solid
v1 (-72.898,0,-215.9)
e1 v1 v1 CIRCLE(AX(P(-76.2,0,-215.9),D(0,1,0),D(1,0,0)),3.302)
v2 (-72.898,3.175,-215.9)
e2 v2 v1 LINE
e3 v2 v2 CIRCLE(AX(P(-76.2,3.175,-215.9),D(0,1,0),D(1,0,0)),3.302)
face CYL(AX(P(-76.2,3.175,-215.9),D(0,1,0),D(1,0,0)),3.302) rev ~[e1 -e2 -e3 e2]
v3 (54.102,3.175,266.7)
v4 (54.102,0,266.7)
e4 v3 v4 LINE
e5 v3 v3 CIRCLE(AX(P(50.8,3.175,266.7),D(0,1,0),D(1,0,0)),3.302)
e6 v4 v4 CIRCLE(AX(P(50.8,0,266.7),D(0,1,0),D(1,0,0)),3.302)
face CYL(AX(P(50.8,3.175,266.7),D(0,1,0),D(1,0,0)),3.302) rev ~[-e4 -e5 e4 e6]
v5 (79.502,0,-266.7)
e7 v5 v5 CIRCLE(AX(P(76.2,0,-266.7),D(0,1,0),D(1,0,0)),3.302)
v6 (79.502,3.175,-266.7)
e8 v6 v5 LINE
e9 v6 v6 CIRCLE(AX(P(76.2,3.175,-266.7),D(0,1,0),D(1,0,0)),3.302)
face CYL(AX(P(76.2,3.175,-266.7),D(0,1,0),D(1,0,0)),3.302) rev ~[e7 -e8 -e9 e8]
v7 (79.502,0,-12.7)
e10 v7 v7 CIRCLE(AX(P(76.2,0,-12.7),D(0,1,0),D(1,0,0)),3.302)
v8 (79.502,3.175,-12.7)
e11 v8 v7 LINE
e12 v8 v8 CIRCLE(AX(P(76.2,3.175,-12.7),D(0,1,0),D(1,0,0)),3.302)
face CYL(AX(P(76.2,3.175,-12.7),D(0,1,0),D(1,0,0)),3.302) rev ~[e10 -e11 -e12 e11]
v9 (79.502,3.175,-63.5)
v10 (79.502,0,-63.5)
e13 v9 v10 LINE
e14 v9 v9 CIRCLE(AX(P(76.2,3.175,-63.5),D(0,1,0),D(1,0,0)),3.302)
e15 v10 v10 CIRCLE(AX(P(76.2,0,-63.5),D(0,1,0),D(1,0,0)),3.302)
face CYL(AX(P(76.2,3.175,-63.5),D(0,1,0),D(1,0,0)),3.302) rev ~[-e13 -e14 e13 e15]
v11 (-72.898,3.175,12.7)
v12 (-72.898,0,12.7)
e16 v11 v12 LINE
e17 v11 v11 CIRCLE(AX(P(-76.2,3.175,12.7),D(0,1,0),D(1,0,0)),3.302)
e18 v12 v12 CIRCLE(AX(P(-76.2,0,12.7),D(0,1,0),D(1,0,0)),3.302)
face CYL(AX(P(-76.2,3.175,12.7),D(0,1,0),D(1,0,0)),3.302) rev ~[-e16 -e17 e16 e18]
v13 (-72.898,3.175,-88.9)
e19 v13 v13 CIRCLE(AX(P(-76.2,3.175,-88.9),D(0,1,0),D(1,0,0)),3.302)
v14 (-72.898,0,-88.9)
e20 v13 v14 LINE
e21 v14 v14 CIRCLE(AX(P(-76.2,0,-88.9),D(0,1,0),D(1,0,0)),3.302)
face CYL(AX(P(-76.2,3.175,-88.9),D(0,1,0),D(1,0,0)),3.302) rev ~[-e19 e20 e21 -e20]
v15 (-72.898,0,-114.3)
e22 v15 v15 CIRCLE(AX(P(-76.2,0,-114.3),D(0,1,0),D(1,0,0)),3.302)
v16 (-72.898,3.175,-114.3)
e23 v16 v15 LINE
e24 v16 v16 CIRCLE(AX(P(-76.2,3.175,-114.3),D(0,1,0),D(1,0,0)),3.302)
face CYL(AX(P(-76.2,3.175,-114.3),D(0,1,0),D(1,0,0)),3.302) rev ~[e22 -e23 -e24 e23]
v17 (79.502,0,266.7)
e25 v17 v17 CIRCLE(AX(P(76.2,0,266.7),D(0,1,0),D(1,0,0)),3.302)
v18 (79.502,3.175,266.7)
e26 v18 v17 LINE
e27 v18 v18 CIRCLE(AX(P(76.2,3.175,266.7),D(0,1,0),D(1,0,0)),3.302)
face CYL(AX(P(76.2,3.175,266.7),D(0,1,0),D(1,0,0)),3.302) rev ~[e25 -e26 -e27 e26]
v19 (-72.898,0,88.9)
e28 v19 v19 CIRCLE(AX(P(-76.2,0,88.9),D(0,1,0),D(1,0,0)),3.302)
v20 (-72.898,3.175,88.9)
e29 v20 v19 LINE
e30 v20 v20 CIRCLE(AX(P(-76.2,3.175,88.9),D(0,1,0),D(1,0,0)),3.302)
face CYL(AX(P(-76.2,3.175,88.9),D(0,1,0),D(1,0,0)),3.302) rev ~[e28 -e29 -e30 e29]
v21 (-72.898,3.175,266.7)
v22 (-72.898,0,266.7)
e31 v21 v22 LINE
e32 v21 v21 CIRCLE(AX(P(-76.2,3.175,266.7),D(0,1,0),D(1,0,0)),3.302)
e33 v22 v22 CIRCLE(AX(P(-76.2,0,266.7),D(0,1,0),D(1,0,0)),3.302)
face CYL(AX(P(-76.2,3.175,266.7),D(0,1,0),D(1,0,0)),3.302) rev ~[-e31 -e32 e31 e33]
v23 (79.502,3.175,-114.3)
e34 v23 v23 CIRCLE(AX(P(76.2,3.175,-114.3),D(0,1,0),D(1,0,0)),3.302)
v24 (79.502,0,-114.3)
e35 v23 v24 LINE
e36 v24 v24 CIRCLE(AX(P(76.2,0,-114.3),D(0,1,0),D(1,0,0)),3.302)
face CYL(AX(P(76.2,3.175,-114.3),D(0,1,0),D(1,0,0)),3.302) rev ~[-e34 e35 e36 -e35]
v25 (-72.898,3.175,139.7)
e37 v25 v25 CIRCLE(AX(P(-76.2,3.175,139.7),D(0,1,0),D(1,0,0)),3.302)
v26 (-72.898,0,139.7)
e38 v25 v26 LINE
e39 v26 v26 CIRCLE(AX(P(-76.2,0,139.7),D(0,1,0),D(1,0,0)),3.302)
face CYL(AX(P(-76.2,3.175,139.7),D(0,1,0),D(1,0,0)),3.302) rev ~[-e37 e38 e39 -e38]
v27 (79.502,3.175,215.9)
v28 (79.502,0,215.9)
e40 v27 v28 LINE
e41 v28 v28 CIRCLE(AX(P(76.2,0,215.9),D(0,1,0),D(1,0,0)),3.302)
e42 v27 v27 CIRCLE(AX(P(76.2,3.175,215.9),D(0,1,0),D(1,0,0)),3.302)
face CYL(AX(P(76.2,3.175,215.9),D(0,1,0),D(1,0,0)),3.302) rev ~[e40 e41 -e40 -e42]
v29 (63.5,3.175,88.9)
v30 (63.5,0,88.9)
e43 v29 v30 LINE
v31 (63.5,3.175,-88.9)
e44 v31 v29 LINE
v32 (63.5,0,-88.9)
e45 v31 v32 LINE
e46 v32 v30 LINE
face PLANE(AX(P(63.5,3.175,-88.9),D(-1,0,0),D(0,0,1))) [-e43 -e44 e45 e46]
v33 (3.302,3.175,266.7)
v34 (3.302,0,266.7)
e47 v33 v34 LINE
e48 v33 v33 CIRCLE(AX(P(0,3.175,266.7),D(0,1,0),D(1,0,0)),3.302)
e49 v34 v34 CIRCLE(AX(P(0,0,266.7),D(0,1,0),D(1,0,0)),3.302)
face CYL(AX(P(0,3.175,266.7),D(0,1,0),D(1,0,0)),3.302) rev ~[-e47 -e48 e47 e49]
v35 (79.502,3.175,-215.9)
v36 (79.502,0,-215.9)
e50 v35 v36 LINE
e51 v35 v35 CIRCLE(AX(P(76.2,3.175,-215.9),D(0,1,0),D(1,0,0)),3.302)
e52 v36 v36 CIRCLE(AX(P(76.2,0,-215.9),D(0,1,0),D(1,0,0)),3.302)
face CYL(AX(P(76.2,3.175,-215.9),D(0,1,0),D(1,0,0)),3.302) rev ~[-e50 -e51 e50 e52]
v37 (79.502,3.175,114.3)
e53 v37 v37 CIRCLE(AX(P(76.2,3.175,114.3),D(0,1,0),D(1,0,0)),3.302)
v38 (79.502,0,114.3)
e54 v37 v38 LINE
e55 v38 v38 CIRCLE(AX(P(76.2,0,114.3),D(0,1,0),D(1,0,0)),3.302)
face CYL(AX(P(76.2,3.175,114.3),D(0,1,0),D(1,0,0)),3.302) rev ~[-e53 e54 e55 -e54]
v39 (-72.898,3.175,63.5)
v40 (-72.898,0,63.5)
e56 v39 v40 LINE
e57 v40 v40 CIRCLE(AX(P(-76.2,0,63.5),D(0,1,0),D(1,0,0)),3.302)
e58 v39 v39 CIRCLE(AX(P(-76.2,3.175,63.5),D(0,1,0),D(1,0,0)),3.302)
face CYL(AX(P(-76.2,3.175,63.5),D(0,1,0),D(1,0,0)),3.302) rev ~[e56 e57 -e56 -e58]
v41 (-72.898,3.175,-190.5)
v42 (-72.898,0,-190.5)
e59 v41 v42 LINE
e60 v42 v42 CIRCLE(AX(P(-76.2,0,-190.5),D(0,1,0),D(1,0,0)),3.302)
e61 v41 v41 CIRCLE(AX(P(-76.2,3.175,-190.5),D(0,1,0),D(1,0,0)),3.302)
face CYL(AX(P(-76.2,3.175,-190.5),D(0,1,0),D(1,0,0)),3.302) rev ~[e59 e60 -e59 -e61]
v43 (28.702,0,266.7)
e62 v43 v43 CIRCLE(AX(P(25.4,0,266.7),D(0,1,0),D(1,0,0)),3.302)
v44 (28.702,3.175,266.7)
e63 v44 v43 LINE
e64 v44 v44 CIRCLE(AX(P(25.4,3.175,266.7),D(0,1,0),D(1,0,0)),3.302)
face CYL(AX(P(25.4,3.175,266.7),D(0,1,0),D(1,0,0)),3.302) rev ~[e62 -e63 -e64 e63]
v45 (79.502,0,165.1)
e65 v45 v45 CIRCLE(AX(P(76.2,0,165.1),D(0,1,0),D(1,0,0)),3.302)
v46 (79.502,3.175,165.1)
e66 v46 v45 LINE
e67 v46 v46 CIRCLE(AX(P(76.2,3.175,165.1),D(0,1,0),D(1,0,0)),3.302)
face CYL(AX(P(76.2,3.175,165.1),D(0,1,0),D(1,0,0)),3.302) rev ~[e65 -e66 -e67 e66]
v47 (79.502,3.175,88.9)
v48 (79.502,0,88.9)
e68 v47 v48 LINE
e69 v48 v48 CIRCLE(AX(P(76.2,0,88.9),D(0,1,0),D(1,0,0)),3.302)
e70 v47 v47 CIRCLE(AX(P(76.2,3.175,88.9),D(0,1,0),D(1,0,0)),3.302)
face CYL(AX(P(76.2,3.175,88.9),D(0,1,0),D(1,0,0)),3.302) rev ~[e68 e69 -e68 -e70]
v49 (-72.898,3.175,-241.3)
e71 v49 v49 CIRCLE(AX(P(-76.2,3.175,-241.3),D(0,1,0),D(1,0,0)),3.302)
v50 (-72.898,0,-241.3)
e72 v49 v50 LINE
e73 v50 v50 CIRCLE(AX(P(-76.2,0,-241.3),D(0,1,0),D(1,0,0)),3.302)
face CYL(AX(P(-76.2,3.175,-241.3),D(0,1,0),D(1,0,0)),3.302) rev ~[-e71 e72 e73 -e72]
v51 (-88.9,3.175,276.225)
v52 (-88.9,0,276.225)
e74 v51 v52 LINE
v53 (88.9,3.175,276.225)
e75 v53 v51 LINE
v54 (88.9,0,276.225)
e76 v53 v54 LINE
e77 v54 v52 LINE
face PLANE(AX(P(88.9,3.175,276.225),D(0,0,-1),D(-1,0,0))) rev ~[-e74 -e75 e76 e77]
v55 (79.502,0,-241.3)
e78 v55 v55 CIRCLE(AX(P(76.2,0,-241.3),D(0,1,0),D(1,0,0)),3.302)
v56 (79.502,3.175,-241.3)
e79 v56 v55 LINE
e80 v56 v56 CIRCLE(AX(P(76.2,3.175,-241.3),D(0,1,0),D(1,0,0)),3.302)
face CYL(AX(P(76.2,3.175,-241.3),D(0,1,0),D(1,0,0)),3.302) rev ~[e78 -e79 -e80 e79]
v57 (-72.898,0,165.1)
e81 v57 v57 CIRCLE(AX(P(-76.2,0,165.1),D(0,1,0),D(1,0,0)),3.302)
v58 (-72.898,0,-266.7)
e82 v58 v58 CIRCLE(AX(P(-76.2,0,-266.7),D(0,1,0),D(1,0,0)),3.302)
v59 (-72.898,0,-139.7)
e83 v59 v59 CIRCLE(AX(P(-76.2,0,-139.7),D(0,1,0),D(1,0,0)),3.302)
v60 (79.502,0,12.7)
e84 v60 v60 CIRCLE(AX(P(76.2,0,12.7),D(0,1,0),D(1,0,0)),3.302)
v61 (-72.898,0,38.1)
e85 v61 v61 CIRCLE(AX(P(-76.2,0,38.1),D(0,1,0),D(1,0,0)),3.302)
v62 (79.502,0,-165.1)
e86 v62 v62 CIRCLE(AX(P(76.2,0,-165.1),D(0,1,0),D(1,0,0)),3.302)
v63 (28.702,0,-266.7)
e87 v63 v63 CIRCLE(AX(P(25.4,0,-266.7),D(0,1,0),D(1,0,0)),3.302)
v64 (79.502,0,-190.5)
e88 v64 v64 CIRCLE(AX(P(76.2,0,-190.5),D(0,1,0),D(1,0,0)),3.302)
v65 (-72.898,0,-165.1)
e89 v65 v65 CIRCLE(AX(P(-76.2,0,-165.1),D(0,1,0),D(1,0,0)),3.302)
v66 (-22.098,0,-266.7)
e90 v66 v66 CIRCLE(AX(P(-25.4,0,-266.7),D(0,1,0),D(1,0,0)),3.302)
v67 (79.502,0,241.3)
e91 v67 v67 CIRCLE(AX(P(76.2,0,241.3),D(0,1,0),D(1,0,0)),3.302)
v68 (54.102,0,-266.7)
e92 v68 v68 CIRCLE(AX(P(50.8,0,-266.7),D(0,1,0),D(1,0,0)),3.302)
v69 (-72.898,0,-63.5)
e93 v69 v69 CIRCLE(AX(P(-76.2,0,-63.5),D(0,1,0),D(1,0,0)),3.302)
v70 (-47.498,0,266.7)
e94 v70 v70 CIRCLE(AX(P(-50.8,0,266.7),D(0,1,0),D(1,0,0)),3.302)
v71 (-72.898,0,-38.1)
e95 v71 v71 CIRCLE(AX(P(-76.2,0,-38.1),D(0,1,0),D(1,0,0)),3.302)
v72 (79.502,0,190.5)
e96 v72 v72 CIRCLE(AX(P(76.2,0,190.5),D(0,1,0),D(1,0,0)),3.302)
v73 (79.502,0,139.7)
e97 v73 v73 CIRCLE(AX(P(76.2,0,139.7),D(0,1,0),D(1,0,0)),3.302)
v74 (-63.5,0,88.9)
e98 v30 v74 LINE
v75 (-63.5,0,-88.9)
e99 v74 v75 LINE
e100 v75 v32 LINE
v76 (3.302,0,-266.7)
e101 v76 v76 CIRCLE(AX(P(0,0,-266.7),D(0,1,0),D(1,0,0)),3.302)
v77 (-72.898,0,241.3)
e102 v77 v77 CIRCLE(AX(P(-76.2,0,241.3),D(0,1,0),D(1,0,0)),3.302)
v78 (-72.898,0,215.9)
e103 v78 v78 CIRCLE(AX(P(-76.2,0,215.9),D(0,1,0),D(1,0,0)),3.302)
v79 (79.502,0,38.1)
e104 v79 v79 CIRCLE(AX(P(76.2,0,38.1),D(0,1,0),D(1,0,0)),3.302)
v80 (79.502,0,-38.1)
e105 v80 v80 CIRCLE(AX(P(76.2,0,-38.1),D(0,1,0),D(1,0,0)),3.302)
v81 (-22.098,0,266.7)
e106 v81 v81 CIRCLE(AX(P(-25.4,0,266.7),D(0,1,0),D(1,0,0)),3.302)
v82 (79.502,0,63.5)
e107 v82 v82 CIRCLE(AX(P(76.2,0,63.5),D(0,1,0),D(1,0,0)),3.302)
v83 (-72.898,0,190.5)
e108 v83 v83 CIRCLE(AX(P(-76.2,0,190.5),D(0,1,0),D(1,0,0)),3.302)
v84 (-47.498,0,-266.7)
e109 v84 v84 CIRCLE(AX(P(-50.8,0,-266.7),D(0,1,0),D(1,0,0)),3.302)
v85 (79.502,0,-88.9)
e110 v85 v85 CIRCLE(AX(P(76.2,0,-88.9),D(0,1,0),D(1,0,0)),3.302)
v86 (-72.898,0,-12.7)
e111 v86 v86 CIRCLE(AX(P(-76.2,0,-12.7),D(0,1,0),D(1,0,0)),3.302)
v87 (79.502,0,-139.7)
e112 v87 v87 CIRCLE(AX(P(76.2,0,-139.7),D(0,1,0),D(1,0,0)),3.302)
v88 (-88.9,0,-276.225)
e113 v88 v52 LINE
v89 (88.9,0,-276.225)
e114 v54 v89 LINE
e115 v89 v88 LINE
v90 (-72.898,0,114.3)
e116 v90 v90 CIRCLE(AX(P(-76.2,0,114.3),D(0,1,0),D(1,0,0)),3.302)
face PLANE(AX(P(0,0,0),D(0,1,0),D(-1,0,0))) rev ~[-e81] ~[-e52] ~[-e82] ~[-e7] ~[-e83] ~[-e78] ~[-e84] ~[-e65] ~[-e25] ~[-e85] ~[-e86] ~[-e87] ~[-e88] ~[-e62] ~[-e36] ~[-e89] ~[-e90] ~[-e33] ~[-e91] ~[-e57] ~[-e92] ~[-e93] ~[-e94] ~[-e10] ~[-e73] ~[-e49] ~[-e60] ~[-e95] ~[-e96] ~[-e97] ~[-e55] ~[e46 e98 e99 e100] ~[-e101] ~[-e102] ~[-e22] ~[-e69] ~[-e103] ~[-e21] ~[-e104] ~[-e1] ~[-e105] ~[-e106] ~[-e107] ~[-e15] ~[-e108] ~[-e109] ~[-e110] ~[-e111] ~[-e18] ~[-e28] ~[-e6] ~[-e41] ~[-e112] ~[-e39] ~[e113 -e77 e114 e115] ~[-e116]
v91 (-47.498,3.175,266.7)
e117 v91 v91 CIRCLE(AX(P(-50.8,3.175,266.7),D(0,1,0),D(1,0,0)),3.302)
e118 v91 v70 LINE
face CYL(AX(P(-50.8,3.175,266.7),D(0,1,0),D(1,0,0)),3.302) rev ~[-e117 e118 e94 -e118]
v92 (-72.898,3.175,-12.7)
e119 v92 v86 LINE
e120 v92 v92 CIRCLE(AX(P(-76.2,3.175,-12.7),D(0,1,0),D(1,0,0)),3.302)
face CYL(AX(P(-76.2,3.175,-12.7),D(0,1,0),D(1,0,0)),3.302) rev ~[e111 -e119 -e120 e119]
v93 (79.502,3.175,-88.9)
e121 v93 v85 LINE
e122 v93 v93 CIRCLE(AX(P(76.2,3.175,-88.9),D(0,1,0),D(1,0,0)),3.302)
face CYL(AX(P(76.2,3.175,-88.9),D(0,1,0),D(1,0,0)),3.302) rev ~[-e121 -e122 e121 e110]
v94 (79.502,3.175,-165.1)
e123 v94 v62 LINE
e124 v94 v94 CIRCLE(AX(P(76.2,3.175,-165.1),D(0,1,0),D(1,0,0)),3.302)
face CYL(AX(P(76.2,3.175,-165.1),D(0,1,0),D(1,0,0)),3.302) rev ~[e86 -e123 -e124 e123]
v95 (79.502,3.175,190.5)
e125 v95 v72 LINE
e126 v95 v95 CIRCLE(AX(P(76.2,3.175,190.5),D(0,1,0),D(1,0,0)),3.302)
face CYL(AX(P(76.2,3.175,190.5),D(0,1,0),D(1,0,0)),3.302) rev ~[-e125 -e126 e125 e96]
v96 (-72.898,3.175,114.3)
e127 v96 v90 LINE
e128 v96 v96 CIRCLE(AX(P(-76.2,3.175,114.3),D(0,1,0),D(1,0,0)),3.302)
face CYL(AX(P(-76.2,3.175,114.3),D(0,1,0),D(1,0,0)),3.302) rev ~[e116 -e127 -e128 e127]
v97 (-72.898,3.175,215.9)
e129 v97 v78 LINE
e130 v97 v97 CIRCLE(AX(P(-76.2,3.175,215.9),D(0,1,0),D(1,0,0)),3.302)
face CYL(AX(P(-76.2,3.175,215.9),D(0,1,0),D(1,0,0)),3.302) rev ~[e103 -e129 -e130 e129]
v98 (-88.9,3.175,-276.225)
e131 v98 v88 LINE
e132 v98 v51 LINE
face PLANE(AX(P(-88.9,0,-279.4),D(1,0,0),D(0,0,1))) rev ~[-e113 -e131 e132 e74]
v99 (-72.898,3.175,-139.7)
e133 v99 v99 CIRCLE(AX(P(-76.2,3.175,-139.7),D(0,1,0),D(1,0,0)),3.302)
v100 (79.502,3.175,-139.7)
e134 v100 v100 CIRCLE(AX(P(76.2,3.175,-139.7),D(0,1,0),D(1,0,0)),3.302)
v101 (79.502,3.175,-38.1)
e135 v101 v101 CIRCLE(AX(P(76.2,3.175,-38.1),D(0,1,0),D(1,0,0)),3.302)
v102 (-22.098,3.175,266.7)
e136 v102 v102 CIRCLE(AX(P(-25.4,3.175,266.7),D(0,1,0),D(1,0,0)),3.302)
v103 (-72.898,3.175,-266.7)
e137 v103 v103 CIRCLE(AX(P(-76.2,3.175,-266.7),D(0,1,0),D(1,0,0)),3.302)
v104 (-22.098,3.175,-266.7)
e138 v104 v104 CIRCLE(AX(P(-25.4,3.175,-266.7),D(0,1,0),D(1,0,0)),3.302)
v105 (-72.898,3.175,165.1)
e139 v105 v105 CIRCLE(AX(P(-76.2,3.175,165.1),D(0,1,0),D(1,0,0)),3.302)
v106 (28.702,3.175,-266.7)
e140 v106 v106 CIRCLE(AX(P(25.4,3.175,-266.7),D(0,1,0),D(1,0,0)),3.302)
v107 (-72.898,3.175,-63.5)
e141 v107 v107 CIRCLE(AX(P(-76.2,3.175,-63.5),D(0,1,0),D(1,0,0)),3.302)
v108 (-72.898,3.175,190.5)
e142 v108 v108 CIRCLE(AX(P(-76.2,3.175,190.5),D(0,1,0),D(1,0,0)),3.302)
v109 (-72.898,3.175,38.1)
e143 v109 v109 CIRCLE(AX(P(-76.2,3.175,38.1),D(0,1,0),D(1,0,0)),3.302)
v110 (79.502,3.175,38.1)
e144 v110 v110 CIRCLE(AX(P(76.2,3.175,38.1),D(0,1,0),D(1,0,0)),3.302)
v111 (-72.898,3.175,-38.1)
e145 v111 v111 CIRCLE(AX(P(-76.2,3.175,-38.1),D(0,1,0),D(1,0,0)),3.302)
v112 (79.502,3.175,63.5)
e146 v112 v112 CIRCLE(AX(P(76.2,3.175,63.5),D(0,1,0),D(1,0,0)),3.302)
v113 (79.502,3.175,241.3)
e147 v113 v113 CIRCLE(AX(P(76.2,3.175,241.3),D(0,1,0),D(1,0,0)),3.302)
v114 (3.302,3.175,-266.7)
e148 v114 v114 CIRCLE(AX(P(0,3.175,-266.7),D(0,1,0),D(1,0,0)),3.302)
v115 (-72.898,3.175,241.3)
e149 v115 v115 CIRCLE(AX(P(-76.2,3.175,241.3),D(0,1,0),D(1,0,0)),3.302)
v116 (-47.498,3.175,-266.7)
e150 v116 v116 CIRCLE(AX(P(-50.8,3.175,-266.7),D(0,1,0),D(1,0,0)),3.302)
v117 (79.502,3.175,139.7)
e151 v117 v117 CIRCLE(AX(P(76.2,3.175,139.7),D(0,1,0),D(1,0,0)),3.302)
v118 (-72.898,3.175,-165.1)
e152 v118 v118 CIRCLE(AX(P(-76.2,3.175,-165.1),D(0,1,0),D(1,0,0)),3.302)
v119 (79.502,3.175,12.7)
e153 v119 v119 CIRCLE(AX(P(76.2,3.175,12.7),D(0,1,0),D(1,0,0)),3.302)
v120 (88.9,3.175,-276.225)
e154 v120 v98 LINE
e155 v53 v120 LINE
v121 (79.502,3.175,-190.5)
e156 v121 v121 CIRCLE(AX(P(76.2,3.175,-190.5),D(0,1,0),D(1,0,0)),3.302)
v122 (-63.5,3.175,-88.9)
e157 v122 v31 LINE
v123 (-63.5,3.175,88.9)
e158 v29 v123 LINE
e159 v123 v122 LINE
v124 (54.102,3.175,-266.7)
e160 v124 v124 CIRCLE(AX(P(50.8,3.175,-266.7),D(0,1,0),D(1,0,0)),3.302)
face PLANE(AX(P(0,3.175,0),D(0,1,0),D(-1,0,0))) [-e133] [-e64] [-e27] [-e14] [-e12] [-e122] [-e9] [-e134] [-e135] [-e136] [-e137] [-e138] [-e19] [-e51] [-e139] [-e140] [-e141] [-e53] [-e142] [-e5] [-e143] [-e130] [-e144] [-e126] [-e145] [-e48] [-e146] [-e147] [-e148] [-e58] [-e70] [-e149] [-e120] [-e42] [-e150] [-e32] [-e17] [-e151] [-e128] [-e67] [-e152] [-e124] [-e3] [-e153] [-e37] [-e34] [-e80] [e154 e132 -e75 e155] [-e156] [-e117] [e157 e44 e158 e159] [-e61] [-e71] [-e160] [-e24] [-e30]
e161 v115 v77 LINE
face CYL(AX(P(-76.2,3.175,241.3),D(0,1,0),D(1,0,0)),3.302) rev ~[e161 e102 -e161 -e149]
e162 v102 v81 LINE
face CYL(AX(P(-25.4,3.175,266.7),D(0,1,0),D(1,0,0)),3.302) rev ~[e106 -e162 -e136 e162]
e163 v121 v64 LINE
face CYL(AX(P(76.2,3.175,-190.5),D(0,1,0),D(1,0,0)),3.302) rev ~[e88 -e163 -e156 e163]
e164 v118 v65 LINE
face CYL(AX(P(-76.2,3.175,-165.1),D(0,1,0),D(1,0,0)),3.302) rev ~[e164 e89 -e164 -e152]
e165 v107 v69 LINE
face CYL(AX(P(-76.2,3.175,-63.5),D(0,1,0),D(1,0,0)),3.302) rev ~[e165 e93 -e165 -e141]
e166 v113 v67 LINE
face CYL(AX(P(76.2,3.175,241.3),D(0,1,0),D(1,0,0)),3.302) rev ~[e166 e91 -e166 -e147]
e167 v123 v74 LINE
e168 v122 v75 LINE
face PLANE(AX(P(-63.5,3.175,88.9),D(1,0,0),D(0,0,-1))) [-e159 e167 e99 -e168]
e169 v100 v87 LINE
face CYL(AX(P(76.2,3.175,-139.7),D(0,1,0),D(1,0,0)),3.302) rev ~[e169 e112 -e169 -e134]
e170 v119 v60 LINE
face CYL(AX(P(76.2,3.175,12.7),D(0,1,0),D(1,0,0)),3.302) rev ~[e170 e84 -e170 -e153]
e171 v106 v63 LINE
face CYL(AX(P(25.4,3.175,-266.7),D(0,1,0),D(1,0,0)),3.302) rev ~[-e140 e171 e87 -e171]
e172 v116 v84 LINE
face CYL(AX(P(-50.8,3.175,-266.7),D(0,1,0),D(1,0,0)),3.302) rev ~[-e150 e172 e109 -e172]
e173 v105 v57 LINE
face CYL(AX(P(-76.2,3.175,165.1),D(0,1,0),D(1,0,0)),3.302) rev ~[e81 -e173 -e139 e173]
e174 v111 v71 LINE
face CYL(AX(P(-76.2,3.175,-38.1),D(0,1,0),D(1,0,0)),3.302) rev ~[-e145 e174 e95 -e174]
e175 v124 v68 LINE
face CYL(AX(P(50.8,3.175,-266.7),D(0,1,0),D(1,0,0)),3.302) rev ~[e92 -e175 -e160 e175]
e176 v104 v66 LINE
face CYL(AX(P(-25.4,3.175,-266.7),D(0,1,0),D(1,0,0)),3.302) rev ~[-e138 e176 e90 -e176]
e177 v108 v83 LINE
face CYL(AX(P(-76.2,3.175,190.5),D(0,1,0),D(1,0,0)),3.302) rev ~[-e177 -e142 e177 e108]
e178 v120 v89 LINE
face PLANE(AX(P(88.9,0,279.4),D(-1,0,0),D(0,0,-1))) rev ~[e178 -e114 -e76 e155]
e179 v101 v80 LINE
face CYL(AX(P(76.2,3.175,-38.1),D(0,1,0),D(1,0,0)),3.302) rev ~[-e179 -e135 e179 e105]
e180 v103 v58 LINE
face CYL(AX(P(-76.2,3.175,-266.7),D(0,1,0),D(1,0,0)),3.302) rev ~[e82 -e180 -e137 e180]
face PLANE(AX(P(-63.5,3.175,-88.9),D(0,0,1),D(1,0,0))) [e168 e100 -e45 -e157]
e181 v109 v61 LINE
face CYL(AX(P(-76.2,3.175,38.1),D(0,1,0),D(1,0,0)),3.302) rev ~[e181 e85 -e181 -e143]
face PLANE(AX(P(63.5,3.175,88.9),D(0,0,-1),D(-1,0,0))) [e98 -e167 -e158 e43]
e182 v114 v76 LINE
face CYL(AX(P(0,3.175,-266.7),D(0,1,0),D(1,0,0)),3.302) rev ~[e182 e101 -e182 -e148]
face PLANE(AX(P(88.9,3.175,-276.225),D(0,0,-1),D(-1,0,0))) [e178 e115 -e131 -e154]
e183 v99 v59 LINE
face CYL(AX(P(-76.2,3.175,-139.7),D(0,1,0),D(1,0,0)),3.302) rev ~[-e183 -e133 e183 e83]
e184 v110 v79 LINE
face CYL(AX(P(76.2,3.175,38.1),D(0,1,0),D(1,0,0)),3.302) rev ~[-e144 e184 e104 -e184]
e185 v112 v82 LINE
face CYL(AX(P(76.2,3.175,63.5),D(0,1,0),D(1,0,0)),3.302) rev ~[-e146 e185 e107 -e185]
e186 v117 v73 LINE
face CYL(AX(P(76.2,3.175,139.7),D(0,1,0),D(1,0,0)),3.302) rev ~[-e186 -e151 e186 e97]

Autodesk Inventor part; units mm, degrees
ref_plane "YZ Plane" through (0, 0, 0) normal (1, 0, 0) x (0, 1, 0)
ref_plane "XZ Plane" through (0, 0, 0) normal (0, 1, 0) x (-1, 0, 0)
ref_plane "XY Plane" through (0, 0, 0) normal (0, 0, 1) x (1, 0, 0)
sketch "Sketch1" plane through (0, 0, 0) normal (0, 1, 0) x (-1, 0, 0)
  line L0 (-88.9, -279.4) -> (88.9, -279.4)
  line L1 (88.9, -279.4) -> (88.9, 279.4)
  line L2 (88.9, 279.4) -> (-88.9, 279.4)
  line L3 (-88.9, 279.4) -> (-88.9, -279.4)
  line L4 (-88.9, -279.4) -> (88.9, 279.4) construction
  line L5 (88.9, -279.4) -> (-88.9, 279.4) construction
  point P0 (0, 0)
  dimension "d0" = 558.8
  dimension "d1" = 177.8
extrude "Plate1" add sketch "Sketch1" along normal blind 3.175
sketch "Sketch2" plane through (0, 3.175, 0) normal (0, 1, 0) x (1, 0, 0)
  circle A0 centre (76.2, 266.7) radius 3.302
  line L0 (-88.9, 279.4) -> (88.9, 279.4) projected
  line L1 (88.9, 279.4) -> (88.9, -279.4) projected
  circle A1 centre (-68.6663, -258.1933) radius 3.302
  point P0 (0, 0)
  dimension "d3" = 6.604
  dimension "d4" = 12.7
  dimension "d5" = 12.7
  dimension "d14" = 6.604
extrude "Cut1" cut sketch "Sketch2" against normal blind 3.175 contours A0
pattern_linear "Rectangular Pattern1" count 22 spacing 25.4 along (0, 0, 1) of "Cut1"
pattern_linear "Rectangular Pattern2" count 6 spacing 25.4 along (-1, 0, 0) of "Cut1"
sketch "Sketch3" plane through (0, 3.175, 0) normal (0, 1, 0) x (1, 0, 0)
  circle A0 centre (-76.2, -266.7) radius 3.302
  line L0 (-88.9, -279.4) -> (-88.9, 279.4) projected
  line L1 (88.9, -279.4) -> (-88.9, -279.4) projected
  point P0 (0, 0)
  dimension "d15" = 6.604
  dimension "d16" = 12.7
  dimension "d17" = 12.7
extrude "Cut2" cut sketch "Sketch3" against normal blind 3.175
pattern_linear "Rectangular Pattern3" count 22 spacing 25.4 along (0, 0, -1) of "Cut2"
pattern_linear "Rectangular Pattern4" count 6 spacing 25.4 along (1, 0, 0) of "Cut2"
sketch "Sketch4" plane through (0, 3.175, 0) normal (0, 1, 0) x (1, 0, 0)
  line L0 (63.5, -88.9) -> (-63.5, -88.9)
  line L1 (-63.5, -88.9) -> (-63.5, 88.9)
  line L2 (-63.5, 88.9) -> (63.5, 88.9)
  line L3 (63.5, 88.9) -> (63.5, -88.9)
  line L4 (63.5, -88.9) -> (-63.5, 88.9) construction
  line L5 (-63.5, -88.9) -> (63.5, 88.9) construction
  point P0 (0, 0)
  dimension "d27" = 127
  dimension "d28" = 177.8
extrude "Cut3" cut sketch "Sketch4" against normal blind 3.175
sketch "Sketch5" plane through (0, 3.175, 0) normal (0, 1, 0) x (1, 0, 0)
  line L0 (-88.9, 279.4) -> (-88.9, -279.4) projected
  line L1 (-88.9, -279.4) -> (88.9, -279.4)
  line L2 (88.9, -279.4) -> (88.9, -276.225)
  line L3 (88.9, -276.225) -> (-88.9, -276.225)
  line L4 (-88.9, -276.225) -> (-88.9, -279.4)
  line L5 (88.9, 279.4) -> (-88.9, 279.4) projected
  line L6 (-88.9, 279.4) -> (88.9, 279.4)
  line L7 (88.9, 279.4) -> (88.9, 276.225)
  line L8 (88.9, 276.225) -> (-88.9, 276.225)
  line L9 (-88.9, 276.225) -> (-88.9, 279.4)
  point P0 (0, 0)
  dimension "d31" = 177.8
  dimension "d32" = 3.175
  dimension "d33" = 177.8
  dimension "d34" = 3.175
extrude "Cut4" cut sketch "Sketch5" against normal blind 3.175
equation "\"d6\" = Thickness"
equation "\"d18\" = Thickness"
equation "\"d29\" = Thickness"
equation "\"d35\" = Thickness"
equation "\"d2\" = Thickness"
equation "\"BendRadius\" = Thickness"
equation "\"BendReliefWidth\" = Thickness"
equation "\"BendReliefDepth\" = 0.5 * Thickness"
equation "\"CornerReliefSize\" = 4 * Thickness"
equation "\"MinimumRemnant\" = 2 * Thickness"
equation "\"TransitionRadius\" = BendRadius"
equation "\"JacobiRadiusSize\" = BendRadius"
equation "\"GapSize\" = Thickness"
equation "\"Thickness\" = 3.175"
properties part number "top plate 3" material "Aluminum 6061"
